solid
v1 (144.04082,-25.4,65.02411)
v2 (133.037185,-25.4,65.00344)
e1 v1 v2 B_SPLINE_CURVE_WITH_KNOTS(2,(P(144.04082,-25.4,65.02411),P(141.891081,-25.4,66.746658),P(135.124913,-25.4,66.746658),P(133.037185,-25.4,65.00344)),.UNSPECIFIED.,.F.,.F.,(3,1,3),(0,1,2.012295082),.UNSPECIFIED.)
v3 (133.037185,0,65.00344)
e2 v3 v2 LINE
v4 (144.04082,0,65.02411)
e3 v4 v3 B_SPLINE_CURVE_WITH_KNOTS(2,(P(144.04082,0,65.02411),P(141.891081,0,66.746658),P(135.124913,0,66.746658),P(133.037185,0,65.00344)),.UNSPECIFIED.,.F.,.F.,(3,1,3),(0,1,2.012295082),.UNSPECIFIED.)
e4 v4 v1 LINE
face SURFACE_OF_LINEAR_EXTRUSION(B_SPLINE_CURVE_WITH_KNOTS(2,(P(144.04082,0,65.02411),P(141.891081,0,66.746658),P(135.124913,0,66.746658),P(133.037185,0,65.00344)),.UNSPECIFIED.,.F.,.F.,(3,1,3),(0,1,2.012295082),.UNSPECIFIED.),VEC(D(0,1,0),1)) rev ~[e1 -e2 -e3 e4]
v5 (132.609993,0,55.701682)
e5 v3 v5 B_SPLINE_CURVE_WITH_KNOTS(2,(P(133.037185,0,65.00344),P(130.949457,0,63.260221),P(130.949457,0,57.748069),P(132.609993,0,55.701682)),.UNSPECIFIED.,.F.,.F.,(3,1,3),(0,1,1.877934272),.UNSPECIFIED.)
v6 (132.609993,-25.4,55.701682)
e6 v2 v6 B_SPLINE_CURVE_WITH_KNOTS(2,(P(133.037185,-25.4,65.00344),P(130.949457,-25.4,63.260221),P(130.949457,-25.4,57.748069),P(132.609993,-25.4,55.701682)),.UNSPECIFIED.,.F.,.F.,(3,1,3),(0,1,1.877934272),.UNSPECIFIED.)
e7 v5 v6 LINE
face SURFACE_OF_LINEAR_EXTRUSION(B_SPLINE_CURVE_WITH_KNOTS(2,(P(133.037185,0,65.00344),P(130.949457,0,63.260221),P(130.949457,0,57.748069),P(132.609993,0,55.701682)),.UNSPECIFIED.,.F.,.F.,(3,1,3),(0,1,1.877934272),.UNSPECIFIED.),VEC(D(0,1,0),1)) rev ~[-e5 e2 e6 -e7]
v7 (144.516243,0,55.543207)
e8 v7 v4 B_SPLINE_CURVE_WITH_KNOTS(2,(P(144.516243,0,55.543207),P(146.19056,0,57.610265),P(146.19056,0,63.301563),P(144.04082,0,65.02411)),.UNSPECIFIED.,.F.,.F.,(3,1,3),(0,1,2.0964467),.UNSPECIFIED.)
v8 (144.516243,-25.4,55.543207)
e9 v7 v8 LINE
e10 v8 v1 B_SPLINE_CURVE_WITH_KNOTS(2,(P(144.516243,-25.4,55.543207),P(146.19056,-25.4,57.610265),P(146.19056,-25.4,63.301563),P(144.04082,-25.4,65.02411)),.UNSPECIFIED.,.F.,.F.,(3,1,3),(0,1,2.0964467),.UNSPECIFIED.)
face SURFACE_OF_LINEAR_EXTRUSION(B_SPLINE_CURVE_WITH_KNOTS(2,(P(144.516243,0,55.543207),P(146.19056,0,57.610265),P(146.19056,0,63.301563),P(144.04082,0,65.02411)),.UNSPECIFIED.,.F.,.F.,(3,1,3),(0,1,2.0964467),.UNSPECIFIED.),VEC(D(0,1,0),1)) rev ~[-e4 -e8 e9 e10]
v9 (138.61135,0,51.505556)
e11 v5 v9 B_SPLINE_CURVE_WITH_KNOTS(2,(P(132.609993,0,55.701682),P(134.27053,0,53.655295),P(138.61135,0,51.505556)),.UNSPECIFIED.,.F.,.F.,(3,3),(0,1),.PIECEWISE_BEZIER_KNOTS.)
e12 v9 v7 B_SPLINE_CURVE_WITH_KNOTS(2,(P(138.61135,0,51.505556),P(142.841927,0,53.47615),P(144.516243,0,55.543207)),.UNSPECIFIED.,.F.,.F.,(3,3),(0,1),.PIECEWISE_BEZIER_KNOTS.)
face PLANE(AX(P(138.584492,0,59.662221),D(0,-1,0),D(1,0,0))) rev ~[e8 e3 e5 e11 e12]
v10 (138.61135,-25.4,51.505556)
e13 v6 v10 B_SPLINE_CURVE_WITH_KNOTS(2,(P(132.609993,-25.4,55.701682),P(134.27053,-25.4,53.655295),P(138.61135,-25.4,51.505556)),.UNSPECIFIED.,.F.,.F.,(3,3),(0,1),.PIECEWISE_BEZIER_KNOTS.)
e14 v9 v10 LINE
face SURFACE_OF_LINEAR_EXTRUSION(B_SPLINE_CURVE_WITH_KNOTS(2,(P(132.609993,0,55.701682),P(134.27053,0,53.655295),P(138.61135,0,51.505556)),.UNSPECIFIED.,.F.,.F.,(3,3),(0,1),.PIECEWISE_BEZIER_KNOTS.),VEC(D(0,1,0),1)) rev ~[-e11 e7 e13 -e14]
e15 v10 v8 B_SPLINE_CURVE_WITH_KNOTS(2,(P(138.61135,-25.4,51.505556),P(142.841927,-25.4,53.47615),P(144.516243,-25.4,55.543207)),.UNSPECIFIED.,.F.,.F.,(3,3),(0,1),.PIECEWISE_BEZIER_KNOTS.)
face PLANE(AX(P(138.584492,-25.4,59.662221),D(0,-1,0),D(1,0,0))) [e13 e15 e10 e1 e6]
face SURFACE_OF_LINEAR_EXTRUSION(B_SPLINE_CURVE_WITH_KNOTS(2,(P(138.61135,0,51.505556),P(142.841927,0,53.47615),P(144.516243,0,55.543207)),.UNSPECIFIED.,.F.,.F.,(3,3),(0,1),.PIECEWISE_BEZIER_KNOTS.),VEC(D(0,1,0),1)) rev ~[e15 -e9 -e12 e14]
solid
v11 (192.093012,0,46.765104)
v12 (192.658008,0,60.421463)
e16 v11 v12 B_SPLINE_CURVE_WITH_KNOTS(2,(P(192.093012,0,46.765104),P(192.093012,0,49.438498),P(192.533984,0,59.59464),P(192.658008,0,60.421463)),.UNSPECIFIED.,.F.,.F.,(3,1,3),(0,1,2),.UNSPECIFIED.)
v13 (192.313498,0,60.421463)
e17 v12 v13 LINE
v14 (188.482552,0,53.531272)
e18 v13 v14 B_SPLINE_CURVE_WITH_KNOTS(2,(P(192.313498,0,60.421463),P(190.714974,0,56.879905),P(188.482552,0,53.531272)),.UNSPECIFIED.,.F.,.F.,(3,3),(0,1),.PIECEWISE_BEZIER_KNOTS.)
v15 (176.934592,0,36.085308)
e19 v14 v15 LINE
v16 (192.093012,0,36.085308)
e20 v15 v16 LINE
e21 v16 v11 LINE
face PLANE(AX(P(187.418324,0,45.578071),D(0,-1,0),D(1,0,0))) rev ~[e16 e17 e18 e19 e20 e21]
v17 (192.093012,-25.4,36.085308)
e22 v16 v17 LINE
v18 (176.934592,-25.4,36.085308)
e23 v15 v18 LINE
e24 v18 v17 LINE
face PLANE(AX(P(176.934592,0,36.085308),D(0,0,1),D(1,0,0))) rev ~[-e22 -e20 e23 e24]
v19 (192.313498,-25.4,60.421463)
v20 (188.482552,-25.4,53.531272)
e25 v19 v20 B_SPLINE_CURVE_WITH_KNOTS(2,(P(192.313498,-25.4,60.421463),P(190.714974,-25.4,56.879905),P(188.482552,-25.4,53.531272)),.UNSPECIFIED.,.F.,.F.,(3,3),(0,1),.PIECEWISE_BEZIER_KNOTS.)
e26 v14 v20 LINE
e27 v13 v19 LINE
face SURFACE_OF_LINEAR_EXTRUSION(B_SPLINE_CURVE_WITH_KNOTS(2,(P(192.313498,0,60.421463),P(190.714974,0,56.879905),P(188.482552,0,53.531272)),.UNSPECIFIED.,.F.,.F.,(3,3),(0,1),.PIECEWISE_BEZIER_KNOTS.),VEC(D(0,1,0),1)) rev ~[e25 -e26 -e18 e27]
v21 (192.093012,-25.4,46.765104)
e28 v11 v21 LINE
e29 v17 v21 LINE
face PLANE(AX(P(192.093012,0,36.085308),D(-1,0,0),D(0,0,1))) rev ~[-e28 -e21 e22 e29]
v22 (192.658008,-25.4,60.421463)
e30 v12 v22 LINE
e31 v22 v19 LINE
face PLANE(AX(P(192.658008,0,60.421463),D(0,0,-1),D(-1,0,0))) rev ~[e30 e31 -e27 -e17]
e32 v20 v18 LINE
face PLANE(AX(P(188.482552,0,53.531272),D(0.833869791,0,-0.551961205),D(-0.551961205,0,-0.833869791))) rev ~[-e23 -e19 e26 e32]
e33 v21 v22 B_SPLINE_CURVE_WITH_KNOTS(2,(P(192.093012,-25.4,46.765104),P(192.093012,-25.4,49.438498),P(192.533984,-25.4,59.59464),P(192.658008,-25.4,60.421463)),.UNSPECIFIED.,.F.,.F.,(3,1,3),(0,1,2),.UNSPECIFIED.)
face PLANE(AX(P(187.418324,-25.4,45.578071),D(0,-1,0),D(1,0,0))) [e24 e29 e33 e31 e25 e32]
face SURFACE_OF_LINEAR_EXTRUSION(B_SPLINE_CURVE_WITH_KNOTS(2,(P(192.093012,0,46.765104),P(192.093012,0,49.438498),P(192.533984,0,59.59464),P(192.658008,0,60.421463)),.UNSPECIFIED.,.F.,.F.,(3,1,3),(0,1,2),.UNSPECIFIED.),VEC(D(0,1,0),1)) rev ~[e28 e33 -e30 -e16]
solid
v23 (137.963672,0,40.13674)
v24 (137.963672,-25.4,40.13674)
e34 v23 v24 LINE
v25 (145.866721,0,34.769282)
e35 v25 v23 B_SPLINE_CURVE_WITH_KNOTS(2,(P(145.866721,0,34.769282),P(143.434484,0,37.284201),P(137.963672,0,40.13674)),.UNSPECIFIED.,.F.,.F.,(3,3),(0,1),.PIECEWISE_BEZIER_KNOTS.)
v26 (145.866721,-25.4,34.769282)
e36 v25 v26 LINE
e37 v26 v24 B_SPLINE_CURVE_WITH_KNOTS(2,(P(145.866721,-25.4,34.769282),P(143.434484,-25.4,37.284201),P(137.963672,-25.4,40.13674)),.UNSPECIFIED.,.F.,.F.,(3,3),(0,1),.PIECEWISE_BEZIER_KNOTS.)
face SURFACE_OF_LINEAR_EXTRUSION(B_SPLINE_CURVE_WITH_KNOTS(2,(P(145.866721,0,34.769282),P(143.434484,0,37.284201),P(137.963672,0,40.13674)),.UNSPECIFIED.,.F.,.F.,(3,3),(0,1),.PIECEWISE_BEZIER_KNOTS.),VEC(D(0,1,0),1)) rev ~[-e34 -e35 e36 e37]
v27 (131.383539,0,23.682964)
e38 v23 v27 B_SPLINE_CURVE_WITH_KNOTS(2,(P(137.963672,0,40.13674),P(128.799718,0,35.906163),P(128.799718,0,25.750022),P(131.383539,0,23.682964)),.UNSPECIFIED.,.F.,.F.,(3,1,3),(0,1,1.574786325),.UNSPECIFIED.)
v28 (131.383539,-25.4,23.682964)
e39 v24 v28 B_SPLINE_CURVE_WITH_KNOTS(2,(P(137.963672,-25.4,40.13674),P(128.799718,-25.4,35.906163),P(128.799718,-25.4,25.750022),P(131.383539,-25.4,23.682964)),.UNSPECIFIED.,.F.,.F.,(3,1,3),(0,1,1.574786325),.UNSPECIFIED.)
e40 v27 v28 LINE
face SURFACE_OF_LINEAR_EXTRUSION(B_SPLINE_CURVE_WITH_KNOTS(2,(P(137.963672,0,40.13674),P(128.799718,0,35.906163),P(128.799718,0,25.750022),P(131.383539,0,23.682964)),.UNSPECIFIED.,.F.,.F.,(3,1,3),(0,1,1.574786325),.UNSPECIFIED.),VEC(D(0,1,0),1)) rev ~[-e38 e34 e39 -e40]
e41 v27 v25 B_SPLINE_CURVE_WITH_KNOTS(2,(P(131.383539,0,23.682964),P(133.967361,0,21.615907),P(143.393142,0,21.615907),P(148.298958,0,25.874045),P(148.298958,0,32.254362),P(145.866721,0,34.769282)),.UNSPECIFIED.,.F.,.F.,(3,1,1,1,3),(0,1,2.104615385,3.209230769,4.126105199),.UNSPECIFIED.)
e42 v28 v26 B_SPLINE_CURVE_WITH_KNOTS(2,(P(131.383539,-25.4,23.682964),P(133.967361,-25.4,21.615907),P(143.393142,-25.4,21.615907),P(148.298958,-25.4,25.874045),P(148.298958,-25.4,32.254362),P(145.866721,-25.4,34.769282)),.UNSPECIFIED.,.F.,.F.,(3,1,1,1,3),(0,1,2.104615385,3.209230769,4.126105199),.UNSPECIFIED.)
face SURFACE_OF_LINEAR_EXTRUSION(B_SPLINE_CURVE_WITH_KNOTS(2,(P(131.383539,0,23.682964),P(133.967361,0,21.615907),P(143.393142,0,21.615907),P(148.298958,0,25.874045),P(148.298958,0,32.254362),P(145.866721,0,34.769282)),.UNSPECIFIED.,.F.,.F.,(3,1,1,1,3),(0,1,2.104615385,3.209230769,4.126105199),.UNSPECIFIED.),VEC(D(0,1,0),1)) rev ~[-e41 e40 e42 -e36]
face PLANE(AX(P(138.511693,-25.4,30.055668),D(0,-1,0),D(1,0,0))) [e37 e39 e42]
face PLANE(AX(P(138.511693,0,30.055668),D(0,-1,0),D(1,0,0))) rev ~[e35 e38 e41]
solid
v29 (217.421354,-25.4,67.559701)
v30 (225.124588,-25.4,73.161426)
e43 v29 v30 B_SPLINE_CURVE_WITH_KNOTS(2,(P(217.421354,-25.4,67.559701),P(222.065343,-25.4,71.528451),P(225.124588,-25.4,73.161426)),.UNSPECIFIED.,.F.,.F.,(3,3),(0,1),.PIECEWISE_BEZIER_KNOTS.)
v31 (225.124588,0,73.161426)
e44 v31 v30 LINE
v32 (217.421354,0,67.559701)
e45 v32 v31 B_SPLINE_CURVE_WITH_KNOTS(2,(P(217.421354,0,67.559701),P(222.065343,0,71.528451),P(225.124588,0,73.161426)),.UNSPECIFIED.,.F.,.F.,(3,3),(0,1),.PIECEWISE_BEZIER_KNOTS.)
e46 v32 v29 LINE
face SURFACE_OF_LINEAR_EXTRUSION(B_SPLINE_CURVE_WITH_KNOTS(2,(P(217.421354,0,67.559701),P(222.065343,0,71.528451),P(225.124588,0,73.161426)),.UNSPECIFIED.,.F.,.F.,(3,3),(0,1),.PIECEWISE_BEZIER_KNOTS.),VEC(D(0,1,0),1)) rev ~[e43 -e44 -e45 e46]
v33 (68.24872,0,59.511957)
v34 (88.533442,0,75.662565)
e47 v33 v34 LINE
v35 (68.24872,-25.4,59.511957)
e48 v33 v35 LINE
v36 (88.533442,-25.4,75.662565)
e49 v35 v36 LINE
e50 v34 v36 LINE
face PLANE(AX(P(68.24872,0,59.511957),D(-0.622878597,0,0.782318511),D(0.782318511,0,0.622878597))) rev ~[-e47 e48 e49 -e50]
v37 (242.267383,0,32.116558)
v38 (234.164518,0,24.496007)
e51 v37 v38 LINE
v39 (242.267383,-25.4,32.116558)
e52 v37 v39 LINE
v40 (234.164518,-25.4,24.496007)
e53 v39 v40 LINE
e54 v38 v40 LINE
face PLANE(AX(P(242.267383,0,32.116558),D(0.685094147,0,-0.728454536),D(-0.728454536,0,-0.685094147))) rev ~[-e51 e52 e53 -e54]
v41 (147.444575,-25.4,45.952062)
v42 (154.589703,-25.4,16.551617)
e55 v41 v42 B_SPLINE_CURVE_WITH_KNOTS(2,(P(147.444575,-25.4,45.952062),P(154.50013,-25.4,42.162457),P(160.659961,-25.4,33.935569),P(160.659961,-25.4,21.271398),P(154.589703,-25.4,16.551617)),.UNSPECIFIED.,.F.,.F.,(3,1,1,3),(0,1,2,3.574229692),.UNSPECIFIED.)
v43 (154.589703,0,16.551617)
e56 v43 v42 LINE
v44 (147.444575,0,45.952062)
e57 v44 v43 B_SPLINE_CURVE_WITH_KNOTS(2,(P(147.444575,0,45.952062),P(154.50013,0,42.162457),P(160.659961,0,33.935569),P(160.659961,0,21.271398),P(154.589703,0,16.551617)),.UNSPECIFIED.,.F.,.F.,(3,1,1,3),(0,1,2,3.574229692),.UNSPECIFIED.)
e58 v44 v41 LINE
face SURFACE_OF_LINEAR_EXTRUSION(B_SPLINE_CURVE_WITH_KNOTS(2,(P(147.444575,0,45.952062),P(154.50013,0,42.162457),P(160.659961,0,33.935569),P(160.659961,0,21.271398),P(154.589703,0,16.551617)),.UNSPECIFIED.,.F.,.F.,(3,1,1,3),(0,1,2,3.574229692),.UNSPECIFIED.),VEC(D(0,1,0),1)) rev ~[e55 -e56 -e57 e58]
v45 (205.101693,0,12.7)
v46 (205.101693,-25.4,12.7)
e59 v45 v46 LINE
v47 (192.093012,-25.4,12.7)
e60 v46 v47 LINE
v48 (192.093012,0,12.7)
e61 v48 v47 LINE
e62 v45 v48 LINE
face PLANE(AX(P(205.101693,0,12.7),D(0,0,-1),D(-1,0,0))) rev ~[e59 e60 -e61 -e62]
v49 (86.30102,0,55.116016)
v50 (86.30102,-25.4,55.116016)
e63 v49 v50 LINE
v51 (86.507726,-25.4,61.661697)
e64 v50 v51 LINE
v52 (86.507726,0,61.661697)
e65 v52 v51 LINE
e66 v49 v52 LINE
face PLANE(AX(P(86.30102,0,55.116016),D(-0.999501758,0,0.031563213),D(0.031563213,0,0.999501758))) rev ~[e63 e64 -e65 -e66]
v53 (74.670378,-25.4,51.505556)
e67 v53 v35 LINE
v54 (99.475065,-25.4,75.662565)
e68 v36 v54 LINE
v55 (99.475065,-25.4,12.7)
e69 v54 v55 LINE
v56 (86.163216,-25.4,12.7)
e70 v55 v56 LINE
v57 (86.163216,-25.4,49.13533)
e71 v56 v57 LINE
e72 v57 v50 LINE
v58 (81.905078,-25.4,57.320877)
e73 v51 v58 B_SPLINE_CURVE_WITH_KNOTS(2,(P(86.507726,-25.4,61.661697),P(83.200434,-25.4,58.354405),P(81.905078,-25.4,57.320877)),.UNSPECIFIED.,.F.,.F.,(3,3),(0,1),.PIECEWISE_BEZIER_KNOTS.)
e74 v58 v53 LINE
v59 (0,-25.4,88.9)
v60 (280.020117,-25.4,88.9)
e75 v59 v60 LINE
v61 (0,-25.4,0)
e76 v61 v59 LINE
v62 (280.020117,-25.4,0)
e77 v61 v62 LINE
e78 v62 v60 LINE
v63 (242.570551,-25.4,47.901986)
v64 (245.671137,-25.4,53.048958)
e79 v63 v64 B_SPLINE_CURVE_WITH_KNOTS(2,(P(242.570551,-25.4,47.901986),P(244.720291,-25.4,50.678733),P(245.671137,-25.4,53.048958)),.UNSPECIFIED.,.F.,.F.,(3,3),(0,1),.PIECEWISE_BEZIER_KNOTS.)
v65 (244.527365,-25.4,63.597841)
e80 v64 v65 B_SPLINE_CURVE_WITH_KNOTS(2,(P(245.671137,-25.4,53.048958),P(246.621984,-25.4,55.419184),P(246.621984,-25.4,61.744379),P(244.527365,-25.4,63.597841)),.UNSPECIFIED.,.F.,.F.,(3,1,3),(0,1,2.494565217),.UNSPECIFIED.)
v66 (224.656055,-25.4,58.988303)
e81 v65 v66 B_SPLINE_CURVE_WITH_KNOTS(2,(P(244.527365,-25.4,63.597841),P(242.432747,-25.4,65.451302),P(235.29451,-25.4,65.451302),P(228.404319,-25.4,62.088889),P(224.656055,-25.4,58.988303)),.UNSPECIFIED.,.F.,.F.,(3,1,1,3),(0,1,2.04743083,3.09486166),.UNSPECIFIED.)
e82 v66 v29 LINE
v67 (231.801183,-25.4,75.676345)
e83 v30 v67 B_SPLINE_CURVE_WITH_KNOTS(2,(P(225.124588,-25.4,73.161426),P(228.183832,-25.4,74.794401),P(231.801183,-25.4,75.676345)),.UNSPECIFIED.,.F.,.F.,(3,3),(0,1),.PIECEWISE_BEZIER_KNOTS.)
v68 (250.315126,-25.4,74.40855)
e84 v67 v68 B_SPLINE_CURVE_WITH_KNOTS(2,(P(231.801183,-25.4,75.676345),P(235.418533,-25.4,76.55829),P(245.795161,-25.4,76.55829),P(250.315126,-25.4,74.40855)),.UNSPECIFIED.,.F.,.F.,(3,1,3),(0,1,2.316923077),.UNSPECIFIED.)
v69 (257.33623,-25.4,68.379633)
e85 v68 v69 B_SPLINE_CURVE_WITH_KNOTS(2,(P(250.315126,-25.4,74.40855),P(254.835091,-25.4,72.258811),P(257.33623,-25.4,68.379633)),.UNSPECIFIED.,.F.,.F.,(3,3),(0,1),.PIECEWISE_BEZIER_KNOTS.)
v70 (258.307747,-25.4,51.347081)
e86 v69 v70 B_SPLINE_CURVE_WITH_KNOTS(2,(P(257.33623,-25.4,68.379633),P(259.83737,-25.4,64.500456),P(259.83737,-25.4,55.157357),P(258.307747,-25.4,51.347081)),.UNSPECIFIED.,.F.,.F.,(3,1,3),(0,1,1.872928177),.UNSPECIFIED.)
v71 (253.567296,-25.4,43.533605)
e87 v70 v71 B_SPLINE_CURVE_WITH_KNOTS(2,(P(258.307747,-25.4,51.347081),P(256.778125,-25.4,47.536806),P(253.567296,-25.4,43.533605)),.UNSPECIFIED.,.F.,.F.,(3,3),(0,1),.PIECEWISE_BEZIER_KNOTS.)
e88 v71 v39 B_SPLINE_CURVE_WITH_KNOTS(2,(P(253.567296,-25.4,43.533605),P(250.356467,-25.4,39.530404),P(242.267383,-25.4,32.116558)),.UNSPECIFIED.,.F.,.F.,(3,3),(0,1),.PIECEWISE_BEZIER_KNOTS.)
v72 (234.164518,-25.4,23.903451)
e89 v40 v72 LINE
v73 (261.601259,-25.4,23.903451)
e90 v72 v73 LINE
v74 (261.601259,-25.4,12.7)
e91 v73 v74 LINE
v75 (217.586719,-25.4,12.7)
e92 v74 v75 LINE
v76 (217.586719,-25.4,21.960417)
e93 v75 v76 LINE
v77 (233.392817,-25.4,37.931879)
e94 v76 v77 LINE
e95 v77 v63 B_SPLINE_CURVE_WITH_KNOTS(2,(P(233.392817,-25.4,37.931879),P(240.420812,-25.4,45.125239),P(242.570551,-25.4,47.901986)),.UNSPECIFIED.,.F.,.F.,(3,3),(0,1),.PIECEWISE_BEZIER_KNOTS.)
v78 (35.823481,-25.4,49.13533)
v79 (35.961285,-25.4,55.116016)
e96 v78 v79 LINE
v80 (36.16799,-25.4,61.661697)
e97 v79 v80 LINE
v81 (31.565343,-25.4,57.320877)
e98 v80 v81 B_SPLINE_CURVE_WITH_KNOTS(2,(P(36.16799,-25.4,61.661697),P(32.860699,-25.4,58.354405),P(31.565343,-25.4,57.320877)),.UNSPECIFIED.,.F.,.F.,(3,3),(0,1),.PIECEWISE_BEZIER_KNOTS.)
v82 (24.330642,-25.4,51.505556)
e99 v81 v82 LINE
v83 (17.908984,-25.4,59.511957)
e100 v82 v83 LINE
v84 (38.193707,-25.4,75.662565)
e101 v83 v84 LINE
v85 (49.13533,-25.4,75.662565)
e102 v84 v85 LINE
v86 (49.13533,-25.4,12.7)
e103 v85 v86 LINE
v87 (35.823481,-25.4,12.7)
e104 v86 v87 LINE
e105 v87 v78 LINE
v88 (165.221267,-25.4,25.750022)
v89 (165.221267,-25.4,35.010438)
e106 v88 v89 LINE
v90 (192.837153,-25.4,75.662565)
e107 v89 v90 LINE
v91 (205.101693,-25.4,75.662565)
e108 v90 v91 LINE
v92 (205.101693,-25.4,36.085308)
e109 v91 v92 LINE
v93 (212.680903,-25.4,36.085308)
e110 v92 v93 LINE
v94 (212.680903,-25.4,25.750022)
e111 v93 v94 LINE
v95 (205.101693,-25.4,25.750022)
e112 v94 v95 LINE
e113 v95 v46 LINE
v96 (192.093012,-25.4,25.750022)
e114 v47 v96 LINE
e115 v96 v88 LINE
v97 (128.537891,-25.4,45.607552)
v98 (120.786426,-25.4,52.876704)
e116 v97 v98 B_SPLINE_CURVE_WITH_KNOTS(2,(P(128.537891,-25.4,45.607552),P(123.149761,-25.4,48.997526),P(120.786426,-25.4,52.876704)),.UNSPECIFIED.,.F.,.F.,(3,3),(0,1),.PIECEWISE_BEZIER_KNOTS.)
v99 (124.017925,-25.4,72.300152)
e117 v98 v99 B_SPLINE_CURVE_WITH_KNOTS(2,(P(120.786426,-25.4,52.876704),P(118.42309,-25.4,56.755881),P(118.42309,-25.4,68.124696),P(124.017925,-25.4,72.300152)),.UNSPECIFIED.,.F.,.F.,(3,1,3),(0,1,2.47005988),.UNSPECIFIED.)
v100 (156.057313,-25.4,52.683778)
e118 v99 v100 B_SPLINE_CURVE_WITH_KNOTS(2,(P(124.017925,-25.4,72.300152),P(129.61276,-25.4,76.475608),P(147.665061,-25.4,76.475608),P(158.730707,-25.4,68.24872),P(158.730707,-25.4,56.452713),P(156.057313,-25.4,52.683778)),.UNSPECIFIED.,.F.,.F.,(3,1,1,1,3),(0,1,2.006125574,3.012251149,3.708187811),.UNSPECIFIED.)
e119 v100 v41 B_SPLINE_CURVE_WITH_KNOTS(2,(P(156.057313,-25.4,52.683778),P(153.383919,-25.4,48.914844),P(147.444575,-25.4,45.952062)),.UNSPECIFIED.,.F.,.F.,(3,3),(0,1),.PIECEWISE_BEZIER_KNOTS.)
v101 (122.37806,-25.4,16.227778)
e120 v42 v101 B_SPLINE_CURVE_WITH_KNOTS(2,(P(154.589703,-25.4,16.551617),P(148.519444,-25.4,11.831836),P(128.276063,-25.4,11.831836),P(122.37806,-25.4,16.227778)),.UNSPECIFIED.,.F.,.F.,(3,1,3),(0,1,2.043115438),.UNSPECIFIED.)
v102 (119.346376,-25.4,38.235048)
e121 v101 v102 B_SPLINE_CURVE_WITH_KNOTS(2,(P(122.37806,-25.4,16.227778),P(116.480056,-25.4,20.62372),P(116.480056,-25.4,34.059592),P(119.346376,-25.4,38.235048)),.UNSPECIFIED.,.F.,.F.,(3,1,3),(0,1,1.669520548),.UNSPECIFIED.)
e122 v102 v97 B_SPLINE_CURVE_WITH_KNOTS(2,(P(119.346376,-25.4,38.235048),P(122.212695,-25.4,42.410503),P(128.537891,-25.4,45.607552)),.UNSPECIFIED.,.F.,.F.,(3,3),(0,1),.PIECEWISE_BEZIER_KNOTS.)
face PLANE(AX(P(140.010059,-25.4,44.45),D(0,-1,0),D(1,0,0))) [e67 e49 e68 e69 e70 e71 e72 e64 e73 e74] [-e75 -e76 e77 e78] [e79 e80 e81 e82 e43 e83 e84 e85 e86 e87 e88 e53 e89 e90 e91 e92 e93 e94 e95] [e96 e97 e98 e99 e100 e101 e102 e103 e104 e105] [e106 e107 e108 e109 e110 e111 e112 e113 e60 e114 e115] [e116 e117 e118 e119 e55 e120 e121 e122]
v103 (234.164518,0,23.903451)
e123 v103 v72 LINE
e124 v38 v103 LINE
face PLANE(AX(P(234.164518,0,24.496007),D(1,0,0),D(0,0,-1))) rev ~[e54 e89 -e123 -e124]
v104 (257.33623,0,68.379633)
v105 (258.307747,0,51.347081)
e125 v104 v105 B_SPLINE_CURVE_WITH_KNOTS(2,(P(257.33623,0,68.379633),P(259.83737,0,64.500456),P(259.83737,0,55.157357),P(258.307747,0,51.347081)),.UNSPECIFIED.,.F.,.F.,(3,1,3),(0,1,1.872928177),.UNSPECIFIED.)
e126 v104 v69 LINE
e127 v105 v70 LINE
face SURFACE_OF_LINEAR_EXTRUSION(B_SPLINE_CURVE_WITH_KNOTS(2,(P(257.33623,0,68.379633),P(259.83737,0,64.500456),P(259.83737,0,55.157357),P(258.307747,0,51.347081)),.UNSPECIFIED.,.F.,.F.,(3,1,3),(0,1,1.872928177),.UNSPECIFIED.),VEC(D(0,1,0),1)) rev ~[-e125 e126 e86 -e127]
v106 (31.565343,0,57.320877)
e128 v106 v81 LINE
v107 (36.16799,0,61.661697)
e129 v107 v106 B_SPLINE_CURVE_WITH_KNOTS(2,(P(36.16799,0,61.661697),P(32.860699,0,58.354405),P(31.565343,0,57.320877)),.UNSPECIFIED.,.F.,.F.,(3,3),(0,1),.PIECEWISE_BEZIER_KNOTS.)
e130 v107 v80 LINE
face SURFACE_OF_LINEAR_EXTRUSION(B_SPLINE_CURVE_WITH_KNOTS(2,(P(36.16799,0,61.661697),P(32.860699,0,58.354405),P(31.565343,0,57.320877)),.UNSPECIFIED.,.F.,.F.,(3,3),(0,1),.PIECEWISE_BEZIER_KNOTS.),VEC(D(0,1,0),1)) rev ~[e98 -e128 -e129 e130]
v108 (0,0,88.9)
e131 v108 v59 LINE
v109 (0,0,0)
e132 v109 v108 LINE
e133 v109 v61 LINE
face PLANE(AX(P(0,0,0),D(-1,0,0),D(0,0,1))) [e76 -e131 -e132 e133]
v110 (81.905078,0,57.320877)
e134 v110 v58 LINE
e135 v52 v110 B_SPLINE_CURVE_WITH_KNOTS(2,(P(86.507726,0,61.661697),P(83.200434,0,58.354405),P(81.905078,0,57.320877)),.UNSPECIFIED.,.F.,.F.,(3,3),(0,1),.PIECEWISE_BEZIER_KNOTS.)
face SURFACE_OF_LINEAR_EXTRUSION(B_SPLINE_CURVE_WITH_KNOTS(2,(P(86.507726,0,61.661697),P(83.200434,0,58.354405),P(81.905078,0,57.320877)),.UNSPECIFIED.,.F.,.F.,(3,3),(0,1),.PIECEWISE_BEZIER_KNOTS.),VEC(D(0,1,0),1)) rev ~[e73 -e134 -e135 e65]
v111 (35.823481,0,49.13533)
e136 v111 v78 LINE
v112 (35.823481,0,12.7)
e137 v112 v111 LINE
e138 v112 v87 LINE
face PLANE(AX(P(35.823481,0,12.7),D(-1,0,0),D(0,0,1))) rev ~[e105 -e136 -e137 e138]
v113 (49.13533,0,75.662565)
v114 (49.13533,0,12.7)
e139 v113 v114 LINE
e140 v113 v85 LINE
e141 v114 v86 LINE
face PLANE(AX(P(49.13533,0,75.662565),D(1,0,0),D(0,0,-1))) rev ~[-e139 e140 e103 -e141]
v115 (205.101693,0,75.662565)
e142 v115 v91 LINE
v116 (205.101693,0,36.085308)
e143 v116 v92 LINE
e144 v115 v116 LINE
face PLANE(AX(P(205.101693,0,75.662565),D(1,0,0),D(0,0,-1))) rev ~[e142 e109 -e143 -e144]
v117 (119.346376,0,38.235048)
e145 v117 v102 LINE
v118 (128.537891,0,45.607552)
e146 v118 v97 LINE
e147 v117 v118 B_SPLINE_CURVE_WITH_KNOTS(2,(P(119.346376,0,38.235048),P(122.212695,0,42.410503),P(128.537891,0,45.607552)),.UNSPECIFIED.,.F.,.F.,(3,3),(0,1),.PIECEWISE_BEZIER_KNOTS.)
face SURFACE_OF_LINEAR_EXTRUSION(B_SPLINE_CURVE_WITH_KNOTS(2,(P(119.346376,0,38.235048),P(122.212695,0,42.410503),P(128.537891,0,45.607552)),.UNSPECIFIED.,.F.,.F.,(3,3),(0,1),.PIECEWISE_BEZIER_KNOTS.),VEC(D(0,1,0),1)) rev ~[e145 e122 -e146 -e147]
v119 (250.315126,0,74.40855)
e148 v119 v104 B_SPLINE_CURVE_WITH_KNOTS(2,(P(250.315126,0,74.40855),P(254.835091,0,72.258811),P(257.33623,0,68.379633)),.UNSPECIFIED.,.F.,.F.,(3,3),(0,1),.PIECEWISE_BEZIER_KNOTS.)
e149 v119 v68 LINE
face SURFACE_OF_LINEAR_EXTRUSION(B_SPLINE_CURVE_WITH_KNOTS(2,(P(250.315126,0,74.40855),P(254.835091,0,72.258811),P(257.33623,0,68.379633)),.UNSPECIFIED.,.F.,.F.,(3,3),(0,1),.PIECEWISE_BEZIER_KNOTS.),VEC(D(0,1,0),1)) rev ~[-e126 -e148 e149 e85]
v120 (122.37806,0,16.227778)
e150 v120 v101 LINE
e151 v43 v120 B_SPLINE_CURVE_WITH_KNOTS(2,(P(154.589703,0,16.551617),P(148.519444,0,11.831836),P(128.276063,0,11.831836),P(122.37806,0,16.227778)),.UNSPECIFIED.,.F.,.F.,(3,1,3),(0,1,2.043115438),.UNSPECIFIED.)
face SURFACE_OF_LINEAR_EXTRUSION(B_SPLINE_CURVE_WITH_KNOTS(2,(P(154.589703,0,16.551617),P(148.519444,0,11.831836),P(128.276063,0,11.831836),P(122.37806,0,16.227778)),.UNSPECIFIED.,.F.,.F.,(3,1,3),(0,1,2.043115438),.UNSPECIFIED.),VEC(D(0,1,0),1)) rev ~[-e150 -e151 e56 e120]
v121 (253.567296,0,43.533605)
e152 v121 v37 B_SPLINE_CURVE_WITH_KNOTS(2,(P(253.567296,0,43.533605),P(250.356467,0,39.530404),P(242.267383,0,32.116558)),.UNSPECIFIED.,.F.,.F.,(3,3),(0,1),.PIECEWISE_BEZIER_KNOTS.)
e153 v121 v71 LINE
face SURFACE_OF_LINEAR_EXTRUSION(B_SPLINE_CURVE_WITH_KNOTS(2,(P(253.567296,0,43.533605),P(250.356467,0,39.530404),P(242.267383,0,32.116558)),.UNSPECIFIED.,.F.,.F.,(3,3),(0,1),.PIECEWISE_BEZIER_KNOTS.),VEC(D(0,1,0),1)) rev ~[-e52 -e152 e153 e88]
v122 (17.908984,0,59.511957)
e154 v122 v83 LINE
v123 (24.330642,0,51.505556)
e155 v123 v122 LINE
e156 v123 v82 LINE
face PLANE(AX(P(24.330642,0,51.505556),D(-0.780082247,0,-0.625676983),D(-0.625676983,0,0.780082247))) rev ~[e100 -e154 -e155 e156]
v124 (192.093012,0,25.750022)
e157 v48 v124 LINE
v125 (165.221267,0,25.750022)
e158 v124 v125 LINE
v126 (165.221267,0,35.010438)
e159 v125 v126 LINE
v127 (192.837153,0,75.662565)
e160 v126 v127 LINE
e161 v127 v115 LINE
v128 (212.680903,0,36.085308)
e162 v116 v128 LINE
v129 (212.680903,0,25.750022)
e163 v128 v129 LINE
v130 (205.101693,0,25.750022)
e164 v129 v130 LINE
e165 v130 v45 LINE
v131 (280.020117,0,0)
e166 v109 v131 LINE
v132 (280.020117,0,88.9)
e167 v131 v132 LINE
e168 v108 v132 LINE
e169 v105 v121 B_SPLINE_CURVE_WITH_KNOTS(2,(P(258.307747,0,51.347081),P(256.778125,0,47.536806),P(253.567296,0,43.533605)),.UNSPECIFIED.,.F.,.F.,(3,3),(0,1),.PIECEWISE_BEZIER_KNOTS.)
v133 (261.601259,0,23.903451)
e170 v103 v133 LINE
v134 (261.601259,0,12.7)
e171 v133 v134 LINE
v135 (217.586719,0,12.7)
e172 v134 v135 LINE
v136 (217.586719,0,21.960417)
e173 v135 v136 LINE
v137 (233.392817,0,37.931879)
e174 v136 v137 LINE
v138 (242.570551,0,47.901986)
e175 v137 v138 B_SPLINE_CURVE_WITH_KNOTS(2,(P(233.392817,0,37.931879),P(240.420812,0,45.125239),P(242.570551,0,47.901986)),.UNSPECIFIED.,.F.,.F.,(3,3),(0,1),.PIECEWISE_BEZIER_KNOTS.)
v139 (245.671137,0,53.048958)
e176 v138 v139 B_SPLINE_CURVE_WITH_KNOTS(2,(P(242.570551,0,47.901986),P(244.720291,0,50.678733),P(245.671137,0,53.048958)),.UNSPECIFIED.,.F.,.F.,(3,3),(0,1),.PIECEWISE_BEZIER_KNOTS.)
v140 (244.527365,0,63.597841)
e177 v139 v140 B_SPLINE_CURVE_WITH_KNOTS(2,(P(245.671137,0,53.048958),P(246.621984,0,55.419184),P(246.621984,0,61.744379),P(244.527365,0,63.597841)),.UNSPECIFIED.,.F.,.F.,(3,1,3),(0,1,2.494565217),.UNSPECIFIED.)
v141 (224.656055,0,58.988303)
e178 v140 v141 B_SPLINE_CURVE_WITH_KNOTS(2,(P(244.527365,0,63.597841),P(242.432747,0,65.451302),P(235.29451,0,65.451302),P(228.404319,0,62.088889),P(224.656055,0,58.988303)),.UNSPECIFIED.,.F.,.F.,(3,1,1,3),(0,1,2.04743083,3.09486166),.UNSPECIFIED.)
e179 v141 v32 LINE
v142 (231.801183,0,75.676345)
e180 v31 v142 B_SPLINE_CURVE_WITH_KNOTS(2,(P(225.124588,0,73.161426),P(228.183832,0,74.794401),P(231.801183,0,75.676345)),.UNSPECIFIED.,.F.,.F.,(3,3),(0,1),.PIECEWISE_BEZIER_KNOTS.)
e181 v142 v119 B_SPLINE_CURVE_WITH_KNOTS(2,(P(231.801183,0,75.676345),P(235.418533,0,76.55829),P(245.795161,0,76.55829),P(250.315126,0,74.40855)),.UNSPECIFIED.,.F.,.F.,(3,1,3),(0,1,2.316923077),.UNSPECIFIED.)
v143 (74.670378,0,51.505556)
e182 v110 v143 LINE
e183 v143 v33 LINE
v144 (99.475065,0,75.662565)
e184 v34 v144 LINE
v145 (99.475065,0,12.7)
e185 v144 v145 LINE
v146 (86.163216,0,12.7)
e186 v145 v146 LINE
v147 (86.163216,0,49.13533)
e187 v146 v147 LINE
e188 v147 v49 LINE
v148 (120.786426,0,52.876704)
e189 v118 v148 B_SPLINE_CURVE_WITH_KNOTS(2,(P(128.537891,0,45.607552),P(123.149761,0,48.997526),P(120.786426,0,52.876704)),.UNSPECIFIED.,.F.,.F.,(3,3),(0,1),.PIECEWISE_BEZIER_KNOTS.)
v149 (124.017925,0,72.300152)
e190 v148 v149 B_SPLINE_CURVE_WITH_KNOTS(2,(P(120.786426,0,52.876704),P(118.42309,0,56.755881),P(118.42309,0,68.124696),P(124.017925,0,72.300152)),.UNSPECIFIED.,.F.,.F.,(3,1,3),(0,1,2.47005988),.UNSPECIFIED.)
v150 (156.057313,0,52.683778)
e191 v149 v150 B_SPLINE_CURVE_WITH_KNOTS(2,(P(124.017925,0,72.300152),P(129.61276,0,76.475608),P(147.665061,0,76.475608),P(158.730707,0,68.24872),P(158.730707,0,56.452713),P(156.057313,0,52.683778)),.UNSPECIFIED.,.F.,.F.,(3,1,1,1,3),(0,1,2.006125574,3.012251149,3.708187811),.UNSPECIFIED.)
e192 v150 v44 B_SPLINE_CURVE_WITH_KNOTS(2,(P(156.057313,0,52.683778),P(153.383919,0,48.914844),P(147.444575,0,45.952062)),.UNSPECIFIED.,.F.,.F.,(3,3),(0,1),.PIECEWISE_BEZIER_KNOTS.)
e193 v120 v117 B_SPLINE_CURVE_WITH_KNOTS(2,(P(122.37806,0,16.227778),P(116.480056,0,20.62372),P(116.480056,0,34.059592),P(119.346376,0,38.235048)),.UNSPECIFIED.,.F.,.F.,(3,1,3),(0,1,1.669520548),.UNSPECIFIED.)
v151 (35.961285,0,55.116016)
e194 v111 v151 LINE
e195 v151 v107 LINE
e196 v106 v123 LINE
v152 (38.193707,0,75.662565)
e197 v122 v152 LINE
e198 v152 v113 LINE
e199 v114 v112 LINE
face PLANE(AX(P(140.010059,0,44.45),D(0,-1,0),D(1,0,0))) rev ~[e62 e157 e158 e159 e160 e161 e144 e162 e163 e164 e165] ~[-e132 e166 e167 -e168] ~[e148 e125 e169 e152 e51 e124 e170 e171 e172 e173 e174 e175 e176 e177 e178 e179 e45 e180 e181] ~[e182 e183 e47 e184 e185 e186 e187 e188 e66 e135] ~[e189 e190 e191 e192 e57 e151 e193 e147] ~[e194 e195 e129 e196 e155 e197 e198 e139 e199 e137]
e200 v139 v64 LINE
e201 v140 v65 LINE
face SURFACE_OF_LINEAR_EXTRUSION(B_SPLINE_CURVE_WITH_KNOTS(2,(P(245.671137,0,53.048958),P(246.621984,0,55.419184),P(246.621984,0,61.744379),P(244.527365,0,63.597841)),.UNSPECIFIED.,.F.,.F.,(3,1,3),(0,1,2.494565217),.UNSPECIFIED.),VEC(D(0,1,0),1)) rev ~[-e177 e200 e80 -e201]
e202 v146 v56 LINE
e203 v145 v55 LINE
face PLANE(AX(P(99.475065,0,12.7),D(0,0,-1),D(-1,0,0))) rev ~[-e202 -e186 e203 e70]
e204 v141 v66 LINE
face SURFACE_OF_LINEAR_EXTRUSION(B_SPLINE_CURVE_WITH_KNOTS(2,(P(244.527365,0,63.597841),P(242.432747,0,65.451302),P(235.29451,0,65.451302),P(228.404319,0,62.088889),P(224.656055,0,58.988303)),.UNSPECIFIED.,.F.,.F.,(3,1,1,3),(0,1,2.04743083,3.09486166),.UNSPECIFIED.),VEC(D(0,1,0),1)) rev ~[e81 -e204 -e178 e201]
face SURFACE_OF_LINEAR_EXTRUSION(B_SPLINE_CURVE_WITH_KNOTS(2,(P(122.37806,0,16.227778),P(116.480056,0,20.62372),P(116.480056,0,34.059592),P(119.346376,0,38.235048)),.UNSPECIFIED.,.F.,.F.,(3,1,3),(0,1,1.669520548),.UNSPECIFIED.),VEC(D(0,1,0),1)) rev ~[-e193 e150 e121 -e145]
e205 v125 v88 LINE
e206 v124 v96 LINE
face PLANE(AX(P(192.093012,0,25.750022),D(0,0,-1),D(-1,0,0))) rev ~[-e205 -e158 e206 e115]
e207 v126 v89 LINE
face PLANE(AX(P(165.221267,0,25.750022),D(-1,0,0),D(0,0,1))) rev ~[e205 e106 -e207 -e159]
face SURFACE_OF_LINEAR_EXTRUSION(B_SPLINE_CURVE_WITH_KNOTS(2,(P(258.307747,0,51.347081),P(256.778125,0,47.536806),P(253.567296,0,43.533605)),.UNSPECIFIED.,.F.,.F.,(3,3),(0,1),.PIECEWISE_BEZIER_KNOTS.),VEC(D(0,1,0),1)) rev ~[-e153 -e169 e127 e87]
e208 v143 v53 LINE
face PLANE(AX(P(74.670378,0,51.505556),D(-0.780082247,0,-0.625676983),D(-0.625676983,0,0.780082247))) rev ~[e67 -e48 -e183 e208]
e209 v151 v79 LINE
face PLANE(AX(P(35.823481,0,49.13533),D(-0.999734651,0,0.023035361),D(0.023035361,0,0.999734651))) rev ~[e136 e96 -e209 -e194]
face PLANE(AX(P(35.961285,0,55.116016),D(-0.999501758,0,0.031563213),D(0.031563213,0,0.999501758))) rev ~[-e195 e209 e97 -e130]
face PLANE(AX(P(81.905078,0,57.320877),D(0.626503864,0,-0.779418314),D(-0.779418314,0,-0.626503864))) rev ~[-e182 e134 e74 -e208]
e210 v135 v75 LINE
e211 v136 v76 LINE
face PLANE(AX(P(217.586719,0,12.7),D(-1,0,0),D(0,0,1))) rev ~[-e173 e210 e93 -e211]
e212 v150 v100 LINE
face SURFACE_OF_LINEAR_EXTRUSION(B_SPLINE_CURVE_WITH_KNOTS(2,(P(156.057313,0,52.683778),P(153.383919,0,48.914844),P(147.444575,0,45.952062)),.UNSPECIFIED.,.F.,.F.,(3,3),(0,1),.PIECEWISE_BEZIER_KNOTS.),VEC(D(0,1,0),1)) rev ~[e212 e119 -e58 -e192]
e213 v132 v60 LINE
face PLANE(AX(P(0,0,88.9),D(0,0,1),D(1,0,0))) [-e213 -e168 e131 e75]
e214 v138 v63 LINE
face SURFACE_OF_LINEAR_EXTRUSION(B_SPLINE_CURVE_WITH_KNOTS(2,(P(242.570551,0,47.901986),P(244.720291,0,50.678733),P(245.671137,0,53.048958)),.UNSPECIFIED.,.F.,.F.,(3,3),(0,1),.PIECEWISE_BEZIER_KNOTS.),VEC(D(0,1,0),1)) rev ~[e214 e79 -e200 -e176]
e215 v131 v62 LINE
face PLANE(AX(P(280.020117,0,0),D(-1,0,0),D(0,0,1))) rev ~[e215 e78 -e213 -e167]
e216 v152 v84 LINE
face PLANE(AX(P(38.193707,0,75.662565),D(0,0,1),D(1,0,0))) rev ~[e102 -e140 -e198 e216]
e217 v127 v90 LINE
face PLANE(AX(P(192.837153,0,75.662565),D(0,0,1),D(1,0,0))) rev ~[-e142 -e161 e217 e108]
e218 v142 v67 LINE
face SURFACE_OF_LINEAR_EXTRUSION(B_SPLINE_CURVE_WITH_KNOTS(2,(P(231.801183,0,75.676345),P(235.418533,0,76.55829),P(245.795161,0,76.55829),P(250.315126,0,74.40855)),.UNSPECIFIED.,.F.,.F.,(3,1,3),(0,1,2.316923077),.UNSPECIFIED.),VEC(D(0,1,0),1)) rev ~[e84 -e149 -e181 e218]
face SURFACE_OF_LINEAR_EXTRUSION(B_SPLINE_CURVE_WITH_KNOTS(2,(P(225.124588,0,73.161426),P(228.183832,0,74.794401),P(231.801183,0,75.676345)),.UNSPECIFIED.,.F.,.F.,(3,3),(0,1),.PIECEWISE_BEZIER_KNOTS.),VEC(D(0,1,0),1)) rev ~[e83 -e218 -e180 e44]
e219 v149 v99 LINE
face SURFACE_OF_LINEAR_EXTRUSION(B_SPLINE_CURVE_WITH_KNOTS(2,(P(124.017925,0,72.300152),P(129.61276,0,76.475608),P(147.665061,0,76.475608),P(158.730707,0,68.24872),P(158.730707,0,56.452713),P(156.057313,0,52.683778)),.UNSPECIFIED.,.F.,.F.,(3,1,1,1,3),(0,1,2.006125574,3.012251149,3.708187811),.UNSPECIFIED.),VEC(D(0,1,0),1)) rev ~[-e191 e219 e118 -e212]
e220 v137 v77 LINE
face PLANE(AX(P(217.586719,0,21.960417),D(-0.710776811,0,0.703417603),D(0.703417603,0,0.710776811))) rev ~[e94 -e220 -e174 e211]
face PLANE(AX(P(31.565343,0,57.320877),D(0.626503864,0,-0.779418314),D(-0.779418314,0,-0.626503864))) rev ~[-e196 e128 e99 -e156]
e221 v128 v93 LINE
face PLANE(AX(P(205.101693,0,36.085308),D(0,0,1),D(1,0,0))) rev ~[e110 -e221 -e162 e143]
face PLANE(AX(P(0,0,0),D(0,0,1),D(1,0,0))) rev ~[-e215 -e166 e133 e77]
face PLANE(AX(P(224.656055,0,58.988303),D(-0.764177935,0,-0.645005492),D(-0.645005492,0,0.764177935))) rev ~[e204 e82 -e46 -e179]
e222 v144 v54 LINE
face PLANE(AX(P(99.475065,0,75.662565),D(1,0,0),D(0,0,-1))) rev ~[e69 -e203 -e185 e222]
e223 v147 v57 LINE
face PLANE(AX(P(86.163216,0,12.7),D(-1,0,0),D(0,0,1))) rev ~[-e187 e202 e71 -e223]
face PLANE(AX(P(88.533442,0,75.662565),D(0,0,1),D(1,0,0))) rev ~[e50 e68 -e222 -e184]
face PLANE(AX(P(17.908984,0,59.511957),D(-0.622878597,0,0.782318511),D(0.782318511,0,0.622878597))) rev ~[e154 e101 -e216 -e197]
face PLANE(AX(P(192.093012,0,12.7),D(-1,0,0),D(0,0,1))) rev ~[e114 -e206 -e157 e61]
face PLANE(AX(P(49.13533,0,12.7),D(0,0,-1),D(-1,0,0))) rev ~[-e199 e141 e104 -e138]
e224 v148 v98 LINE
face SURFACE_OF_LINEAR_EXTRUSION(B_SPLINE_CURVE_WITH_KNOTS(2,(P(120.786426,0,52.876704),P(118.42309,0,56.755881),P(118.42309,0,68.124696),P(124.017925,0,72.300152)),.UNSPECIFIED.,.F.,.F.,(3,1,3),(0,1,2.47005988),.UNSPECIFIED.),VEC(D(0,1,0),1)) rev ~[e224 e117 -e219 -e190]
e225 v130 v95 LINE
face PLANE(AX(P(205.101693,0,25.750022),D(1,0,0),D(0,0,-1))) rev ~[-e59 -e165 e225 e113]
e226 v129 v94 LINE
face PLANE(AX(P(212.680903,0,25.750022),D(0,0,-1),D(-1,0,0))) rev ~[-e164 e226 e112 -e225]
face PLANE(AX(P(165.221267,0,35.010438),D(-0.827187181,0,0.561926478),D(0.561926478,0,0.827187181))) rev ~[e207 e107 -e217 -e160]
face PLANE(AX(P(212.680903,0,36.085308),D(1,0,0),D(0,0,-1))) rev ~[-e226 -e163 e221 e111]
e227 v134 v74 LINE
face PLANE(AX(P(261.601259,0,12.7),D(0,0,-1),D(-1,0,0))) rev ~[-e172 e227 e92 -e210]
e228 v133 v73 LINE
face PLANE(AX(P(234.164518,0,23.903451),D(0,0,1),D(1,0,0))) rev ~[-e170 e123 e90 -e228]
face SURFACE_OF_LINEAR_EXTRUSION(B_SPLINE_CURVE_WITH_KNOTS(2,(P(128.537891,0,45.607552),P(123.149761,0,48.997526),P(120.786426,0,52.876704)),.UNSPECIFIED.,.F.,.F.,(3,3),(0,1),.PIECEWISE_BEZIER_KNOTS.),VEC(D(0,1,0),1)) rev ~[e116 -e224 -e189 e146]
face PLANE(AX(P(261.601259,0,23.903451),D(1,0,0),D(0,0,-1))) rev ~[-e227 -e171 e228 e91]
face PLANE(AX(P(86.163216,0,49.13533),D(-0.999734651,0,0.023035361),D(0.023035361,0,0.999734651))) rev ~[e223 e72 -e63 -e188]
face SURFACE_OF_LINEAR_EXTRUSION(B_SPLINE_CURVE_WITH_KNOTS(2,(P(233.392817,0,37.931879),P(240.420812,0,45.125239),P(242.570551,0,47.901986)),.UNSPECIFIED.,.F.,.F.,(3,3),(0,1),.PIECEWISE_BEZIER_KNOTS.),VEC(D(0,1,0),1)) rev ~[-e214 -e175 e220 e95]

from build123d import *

# Parameters (mm, degrees)
F0_W     = 280.0201171875
F0_H     = 88.9
F1_DEPTH = 25.4


with BuildPart() as f1:
    # F0 (on Front) → F1 (new body)
    with BuildSketch(Plane.XZ):
        with Locations((140.0100585937, 44.45)):
            Rectangle(F0_W, F0_H)
        with BuildLine():
            Line((49.1353298611, 75.6625651042), (49.1353298611, 12.7))
            Line((49.1353298611, 12.7), (35.8234809028, 12.7))
            Line((35.8234809028, 12.7), (35.8234809028, 49.1353298611))
            Line((35.8234809028, 49.1353298611), (35.9612847222, 55.116015625))
            Line((35.9612847222, 55.116015625), (36.1679904514, 61.6616970486))
            add(Edge.make_bspline(
                [(36.1679904514, 61.6616970486), (32.8606987847, 58.3544053819), (31.5653428819, 57.3208767361)],
                knots=[0, 0, 0, 1, 1, 1], degree=2))
            Line((31.5653428819, 57.3208767361), (24.3306423611, 51.5055555556))
            Line((24.3306423611, 51.5055555556), (17.908984375, 59.5119574653))
            Line((17.908984375, 59.5119574653), (38.1937065972, 75.6625651042))
            Line((38.1937065972, 75.6625651042), (49.1353298611, 75.6625651042))
        make_face(mode=Mode.SUBTRACT)
        with BuildLine():
            Line((99.4750651042, 75.6625651042), (99.4750651042, 12.7))
            Line((99.4750651042, 12.7), (86.1632161458, 12.7))
            Line((86.1632161458, 12.7), (86.1632161458, 49.1353298611))
            Line((86.1632161458, 49.1353298611), (86.3010199653, 55.116015625))
            Line((86.3010199653, 55.116015625), (86.5077256944, 61.6616970486))
            add(Edge.make_bspline(
                [(86.5077256944, 61.6616970486), (83.2004340278, 58.3544053819), (81.905078125, 57.3208767361)],
                knots=[0, 0, 0, 1, 1, 1], degree=2))
            Line((81.905078125, 57.3208767361), (74.6703776042, 51.5055555556))
            Line((74.6703776042, 51.5055555556), (68.2487196181, 59.5119574653))
            Line((68.2487196181, 59.5119574653), (88.5334418403, 75.6625651042))
            Line((88.5334418403, 75.6625651042), (99.4750651042, 75.6625651042))
        make_face(mode=Mode.SUBTRACT)
        with BuildLine():
            add(Edge.make_bspline(
                [(124.0179253472, 72.3001519097), (129.6127604167, 76.4756076389), (138.6113498264, 76.4756076389)],
                knots=[0, 0, 0, 1, 1, 1], degree=2))
            add(Edge.make_bspline(
                [(138.6113498264, 76.4756076389), (147.6650607639, 76.4756076389), (153.1978841146, 72.3621636285)],
                knots=[0, 0, 0, 1, 1, 1], degree=2))
            add(Edge.make_bspline(
                [(153.1978841146, 72.3621636285), (158.7307074653, 68.2487196181), (158.7307074653, 61.2758463542)],
                knots=[0, 0, 0, 1, 1, 1], degree=2))
            add(Edge.make_bspline(
                [(158.7307074653, 61.2758463542), (158.7307074653, 56.4527126736), (156.0573133681, 52.6837782118)],
                knots=[0, 0, 0, 1, 1, 1], degree=2))
            add(Edge.make_bspline(
                [(156.0573133681, 52.6837782118), (153.3839192708, 48.91484375), (147.4445746528, 45.9520616319)],
                knots=[0, 0, 0, 1, 1, 1], degree=2))
            add(Edge.make_bspline(
                [(147.4445746528, 45.9520616319), (154.5001302083, 42.1624565972), (157.5800455729, 38.0490125868)],
                knots=[0, 0, 0, 1, 1, 1], degree=2))
            add(Edge.make_bspline(
                [(157.5800455729, 38.0490125868), (160.6599609375, 33.9355685764), (160.6599609375, 29.0159722222)],
                knots=[0, 0, 0, 1, 1, 1], degree=2))
            add(Edge.make_bspline(
                [(160.6599609375, 29.0159722222), (160.6599609375, 21.2713975694), (154.589702691, 16.5516167535)],
                knots=[0, 0, 0, 1, 1, 1], degree=2))
            add(Edge.make_bspline(
                [(154.589702691, 16.5516167535), (148.5194444444, 11.8318359375), (138.6113498264, 11.8318359375)],
                knots=[0, 0, 0, 1, 1, 1], degree=2))
            add(Edge.make_bspline(
                [(138.6113498264, 11.8318359375), (128.2760633681, 11.8318359375), (122.3780598958, 16.2277777778)],
                knots=[0, 0, 0, 1, 1, 1], degree=2))
            add(Edge.make_bspline(
                [(122.3780598958, 16.2277777778), (116.4800564236, 20.6237196181), (116.4800564236, 28.6714626736)],
                knots=[0, 0, 0, 1, 1, 1], degree=2))
            add(Edge.make_bspline(
                [(116.4800564236, 28.6714626736), (116.4800564236, 34.0595920139), (119.3463758681, 38.2350477431)],
                knots=[0, 0, 0, 1, 1, 1], degree=2))
            add(Edge.make_bspline(
                [(119.3463758681, 38.2350477431), (122.2126953125, 42.4105034722), (128.537890625, 45.6075520833)],
                knots=[0, 0, 0, 1, 1, 1], degree=2))
            add(Edge.make_bspline(
                [(128.537890625, 45.6075520833), (123.1497612847, 48.9975260417), (120.7864257812, 52.876703559)],
                knots=[0, 0, 0, 1, 1, 1], degree=2))
            add(Edge.make_bspline(
                [(120.7864257812, 52.876703559), (118.4230902778, 56.7558810764), (118.4230902778, 61.3585286458)],
                knots=[0, 0, 0, 1, 1, 1], degree=2))
            add(Edge.make_bspline(
                [(118.4230902778, 61.3585286458), (118.4230902778, 68.1246961806), (124.0179253472, 72.3001519097)],
                knots=[0, 0, 0, 1, 1, 1], degree=2))
        make_face(mode=Mode.SUBTRACT)
        Polygon((212.6809027778, 36.0853081597), (212.6809027778, 25.7500217014), (205.1016927083, 25.7500217014), (205.1016927083, 12.7), (192.0930121528, 12.7), (192.0930121528, 25.7500217014), (165.2212673611, 25.7500217014), (165.2212673611, 35.0104383681), (192.8371527778, 75.6625651042), (205.1016927083, 75.6625651042), (205.1016927083, 36.0853081597), align=None, mode=Mode.SUBTRACT)
        with BuildLine():
            Line((261.6012586806, 23.9034505208), (261.6012586806, 12.7))
            Line((261.6012586806, 12.7), (217.58671875, 12.7))
            Line((217.58671875, 12.7), (217.58671875, 21.9604166667))
            Line((217.58671875, 21.9604166667), (233.3928168403, 37.9318793403))
            add(Edge.make_bspline(
                [(233.3928168403, 37.9318793403), (240.4208116319, 45.1252387153), (242.5705512153, 47.9019856771)],
                knots=[0, 0, 0, 1, 1, 1], degree=2))
            add(Edge.make_bspline(
                [(242.5705512153, 47.9019856771), (244.7202907986, 50.6787326389), (245.6711371528, 53.0489583333)],
                knots=[0, 0, 0, 1, 1, 1], degree=2))
            add(Edge.make_bspline(
                [(245.6711371528, 53.0489583333), (246.6219835069, 55.4191840278), (246.6219835069, 57.9547743056)],
                knots=[0, 0, 0, 1, 1, 1], degree=2))
            add(Edge.make_bspline(
                [(246.6219835069, 57.9547743056), (246.6219835069, 61.7443793403), (244.5273654514, 63.5978407118)],
                knots=[0, 0, 0, 1, 1, 1], degree=2))
            add(Edge.make_bspline(
                [(244.5273654514, 63.5978407118), (242.4327473958, 65.4513020833), (238.9463107639, 65.4513020833)],
                knots=[0, 0, 0, 1, 1, 1], degree=2))
            add(Edge.make_bspline(
                [(238.9463107639, 65.4513020833), (235.2945095486, 65.4513020833), (231.8494140625, 63.7700954861)],
                knots=[0, 0, 0, 1, 1, 1], degree=2))
            add(Edge.make_bspline(
                [(231.8494140625, 63.7700954861), (228.4043185764, 62.0888888889), (224.6560546875, 58.9883029514)],
                knots=[0, 0, 0, 1, 1, 1], degree=2))
            Line((224.6560546875, 58.9883029514), (217.4213541667, 67.5597005208))
            add(Edge.make_bspline(
                [(217.4213541667, 67.5597005208), (222.0653428819, 71.5284505208), (225.1245876736, 73.1614257813)],
                knots=[0, 0, 0, 1, 1, 1], degree=2))
            add(Edge.make_bspline(
                [(225.1245876736, 73.1614257813), (228.1838324653, 74.7944010417), (231.8011827257, 75.6763454861)],
                knots=[0, 0, 0, 1, 1, 1], degree=2))
            add(Edge.make_bspline(
                [(231.8011827257, 75.6763454861), (235.4185329861, 76.5582899306), (239.8971571181, 76.5582899306)],
                knots=[0, 0, 0, 1, 1, 1], degree=2))
            add(Edge.make_bspline(
                [(239.8971571181, 76.5582899306), (245.7951605903, 76.5582899306), (250.3151258681, 74.4085503472)],
                knots=[0, 0, 0, 1, 1, 1], degree=2))
            add(Edge.make_bspline(
                [(250.3151258681, 74.4085503472), (254.8350911458, 72.2588107639), (257.3362304687, 68.3796332465)],
                knots=[0, 0, 0, 1, 1, 1], degree=2))
            add(Edge.make_bspline(
                [(257.3362304687, 68.3796332465), (259.8373697917, 64.5004557292), (259.8373697917, 59.5119574653)],
                knots=[0, 0, 0, 1, 1, 1], degree=2))
            add(Edge.make_bspline(
                [(259.8373697917, 59.5119574653), (259.8373697917, 55.1573567708), (258.3077473958, 51.3470811632)],
                knots=[0, 0, 0, 1, 1, 1], degree=2))
            add(Edge.make_bspline(
                [(258.3077473958, 51.3470811632), (256.778125, 47.5368055556), (253.5672960069, 43.5336046007)],
                knots=[0, 0, 0, 1, 1, 1], degree=2))
            add(Edge.make_bspline(
                [(253.5672960069, 43.5336046007), (250.3564670139, 39.5304036458), (242.2673828125, 32.1165581597)],
                knots=[0, 0, 0, 1, 1, 1], degree=2))
            Line((242.2673828125, 32.1165581597), (234.1645182292, 24.4960069444))
            Line((234.1645182292, 24.4960069444), (234.1645182292, 23.9034505208))
            Line((234.1645182292, 23.9034505208), (261.6012586806, 23.9034505208))
        make_face(mode=Mode.SUBTRACT)
    extrude(amount=F1_DEPTH)


with BuildPart() as f1b:
    # F0 (on Front) → F1, piece 2 (new body)
    with BuildSketch(Plane.XZ):
        with BuildLine():
            Line((176.9345920139, 36.0853081597), (192.0930121528, 36.0853081597))
            Line((192.0930121528, 36.0853081597), (192.0930121528, 46.7651041667))
            add(Edge.make_bspline(
                [(192.0930121528, 46.7651041667), (192.0930121528, 49.4384982639), (192.3134982639, 54.5165690104)],
                knots=[0, 0, 0, 1, 1, 1], degree=2))
            add(Edge.make_bspline(
                [(192.3134982639, 54.5165690104), (192.533984375, 59.5946397569), (192.6580078125, 60.4214626736)],
                knots=[0, 0, 0, 1, 1, 1], degree=2))
            Line((192.6580078125, 60.4214626736), (192.3134982639, 60.4214626736))
            add(Edge.make_bspline(
                [(192.3134982639, 60.4214626736), (190.7149739583, 56.8799045139), (188.4825520833, 53.5312717014)],
                knots=[0, 0, 0, 1, 1, 1], degree=2))
            Line((188.4825520833, 53.5312717014), (176.9345920139, 36.0853081597))
        make_face()
    extrude(amount=F1_DEPTH)


with BuildPart() as f1c:
    # F0 (on Front) → F1, piece 3 (new body)
    with BuildSketch(Plane.XZ):
        with BuildLine():
            add(Edge.make_bspline(
                [(137.963671875, 40.1367404514), (128.7997178819, 35.9061631944), (128.7997178819, 29.4569444444)],
                knots=[0, 0, 0, 1, 1, 1], degree=2))
            add(Edge.make_bspline(
                [(128.7997178819, 29.4569444444), (128.7997178819, 25.7500217014), (131.3835394965, 23.6829644097)],
                knots=[0, 0, 0, 1, 1, 1], degree=2))
            add(Edge.make_bspline(
                [(131.3835394965, 23.6829644097), (133.9673611111, 21.6159071181), (138.4459852431, 21.6159071181)],
                knots=[0, 0, 0, 1, 1, 1], degree=2))
            add(Edge.make_bspline(
                [(138.4459852431, 21.6159071181), (143.3931423611, 21.6159071181), (145.8460503472, 23.7449761285)],
                knots=[0, 0, 0, 1, 1, 1], degree=2))
            add(Edge.make_bspline(
                [(145.8460503472, 23.7449761285), (148.2989583333, 25.8740451389), (148.2989583333, 29.3604817708)],
                knots=[0, 0, 0, 1, 1, 1], degree=2))
            add(Edge.make_bspline(
                [(148.2989583333, 29.3604817708), (148.2989583333, 32.2543619792), (145.8667209201, 34.769281684)],
                knots=[0, 0, 0, 1, 1, 1], degree=2))
            add(Edge.make_bspline(
                [(145.8667209201, 34.769281684), (143.4344835069, 37.2842013889), (137.963671875, 40.1367404514)],
                knots=[0, 0, 0, 1, 1, 1], degree=2))
        make_face()
    extrude(amount=F1_DEPTH)


with BuildPart() as f1d:
    # F0 (on Front) → F1, piece 4 (new body)
    with BuildSketch(Plane.XZ):
        with BuildLine():
            add(Edge.make_bspline(
                [(144.0408203125, 65.0241102431), (141.8910807292, 66.7466579861), (138.5286675347, 66.7466579861)],
                knots=[0, 0, 0, 1, 1, 1], degree=2))
            add(Edge.make_bspline(
                [(138.5286675347, 66.7466579861), (135.1249131944, 66.7466579861), (133.0371853299, 65.0034396701)],
                knots=[0, 0, 0, 1, 1, 1], degree=2))
            add(Edge.make_bspline(
                [(133.0371853299, 65.0034396701), (130.9494574653, 63.2602213542), (130.9494574653, 60.325)],
                knots=[0, 0, 0, 1, 1, 1], degree=2))
            add(Edge.make_bspline(
                [(130.9494574653, 60.325), (130.9494574653, 57.7480685764), (132.6099934896, 55.7016818576)],
                knots=[0, 0, 0, 1, 1, 1], degree=2))
            add(Edge.make_bspline(
                [(132.6099934896, 55.7016818576), (134.2705295139, 53.6552951389), (138.6113498264, 51.5055555556)],
                knots=[0, 0, 0, 1, 1, 1], degree=2))
            add(Edge.make_bspline(
                [(138.6113498264, 51.5055555556), (142.8419270833, 53.4761501736), (144.5162434896, 55.5432074653)],
                knots=[0, 0, 0, 1, 1, 1], degree=2))
            add(Edge.make_bspline(
                [(144.5162434896, 55.5432074653), (146.1905598958, 57.6102647569), (146.1905598958, 60.325)],
                knots=[0, 0, 0, 1, 1, 1], degree=2))
            add(Edge.make_bspline(
                [(146.1905598958, 60.325), (146.1905598958, 63.3015625), (144.0408203125, 65.0241102431)],
                knots=[0, 0, 0, 1, 1, 1], degree=2))
        make_face()
    extrude(amount=F1_DEPTH)


solid = Compound([f1.part, f1b.part, f1c.part, f1d.part])
